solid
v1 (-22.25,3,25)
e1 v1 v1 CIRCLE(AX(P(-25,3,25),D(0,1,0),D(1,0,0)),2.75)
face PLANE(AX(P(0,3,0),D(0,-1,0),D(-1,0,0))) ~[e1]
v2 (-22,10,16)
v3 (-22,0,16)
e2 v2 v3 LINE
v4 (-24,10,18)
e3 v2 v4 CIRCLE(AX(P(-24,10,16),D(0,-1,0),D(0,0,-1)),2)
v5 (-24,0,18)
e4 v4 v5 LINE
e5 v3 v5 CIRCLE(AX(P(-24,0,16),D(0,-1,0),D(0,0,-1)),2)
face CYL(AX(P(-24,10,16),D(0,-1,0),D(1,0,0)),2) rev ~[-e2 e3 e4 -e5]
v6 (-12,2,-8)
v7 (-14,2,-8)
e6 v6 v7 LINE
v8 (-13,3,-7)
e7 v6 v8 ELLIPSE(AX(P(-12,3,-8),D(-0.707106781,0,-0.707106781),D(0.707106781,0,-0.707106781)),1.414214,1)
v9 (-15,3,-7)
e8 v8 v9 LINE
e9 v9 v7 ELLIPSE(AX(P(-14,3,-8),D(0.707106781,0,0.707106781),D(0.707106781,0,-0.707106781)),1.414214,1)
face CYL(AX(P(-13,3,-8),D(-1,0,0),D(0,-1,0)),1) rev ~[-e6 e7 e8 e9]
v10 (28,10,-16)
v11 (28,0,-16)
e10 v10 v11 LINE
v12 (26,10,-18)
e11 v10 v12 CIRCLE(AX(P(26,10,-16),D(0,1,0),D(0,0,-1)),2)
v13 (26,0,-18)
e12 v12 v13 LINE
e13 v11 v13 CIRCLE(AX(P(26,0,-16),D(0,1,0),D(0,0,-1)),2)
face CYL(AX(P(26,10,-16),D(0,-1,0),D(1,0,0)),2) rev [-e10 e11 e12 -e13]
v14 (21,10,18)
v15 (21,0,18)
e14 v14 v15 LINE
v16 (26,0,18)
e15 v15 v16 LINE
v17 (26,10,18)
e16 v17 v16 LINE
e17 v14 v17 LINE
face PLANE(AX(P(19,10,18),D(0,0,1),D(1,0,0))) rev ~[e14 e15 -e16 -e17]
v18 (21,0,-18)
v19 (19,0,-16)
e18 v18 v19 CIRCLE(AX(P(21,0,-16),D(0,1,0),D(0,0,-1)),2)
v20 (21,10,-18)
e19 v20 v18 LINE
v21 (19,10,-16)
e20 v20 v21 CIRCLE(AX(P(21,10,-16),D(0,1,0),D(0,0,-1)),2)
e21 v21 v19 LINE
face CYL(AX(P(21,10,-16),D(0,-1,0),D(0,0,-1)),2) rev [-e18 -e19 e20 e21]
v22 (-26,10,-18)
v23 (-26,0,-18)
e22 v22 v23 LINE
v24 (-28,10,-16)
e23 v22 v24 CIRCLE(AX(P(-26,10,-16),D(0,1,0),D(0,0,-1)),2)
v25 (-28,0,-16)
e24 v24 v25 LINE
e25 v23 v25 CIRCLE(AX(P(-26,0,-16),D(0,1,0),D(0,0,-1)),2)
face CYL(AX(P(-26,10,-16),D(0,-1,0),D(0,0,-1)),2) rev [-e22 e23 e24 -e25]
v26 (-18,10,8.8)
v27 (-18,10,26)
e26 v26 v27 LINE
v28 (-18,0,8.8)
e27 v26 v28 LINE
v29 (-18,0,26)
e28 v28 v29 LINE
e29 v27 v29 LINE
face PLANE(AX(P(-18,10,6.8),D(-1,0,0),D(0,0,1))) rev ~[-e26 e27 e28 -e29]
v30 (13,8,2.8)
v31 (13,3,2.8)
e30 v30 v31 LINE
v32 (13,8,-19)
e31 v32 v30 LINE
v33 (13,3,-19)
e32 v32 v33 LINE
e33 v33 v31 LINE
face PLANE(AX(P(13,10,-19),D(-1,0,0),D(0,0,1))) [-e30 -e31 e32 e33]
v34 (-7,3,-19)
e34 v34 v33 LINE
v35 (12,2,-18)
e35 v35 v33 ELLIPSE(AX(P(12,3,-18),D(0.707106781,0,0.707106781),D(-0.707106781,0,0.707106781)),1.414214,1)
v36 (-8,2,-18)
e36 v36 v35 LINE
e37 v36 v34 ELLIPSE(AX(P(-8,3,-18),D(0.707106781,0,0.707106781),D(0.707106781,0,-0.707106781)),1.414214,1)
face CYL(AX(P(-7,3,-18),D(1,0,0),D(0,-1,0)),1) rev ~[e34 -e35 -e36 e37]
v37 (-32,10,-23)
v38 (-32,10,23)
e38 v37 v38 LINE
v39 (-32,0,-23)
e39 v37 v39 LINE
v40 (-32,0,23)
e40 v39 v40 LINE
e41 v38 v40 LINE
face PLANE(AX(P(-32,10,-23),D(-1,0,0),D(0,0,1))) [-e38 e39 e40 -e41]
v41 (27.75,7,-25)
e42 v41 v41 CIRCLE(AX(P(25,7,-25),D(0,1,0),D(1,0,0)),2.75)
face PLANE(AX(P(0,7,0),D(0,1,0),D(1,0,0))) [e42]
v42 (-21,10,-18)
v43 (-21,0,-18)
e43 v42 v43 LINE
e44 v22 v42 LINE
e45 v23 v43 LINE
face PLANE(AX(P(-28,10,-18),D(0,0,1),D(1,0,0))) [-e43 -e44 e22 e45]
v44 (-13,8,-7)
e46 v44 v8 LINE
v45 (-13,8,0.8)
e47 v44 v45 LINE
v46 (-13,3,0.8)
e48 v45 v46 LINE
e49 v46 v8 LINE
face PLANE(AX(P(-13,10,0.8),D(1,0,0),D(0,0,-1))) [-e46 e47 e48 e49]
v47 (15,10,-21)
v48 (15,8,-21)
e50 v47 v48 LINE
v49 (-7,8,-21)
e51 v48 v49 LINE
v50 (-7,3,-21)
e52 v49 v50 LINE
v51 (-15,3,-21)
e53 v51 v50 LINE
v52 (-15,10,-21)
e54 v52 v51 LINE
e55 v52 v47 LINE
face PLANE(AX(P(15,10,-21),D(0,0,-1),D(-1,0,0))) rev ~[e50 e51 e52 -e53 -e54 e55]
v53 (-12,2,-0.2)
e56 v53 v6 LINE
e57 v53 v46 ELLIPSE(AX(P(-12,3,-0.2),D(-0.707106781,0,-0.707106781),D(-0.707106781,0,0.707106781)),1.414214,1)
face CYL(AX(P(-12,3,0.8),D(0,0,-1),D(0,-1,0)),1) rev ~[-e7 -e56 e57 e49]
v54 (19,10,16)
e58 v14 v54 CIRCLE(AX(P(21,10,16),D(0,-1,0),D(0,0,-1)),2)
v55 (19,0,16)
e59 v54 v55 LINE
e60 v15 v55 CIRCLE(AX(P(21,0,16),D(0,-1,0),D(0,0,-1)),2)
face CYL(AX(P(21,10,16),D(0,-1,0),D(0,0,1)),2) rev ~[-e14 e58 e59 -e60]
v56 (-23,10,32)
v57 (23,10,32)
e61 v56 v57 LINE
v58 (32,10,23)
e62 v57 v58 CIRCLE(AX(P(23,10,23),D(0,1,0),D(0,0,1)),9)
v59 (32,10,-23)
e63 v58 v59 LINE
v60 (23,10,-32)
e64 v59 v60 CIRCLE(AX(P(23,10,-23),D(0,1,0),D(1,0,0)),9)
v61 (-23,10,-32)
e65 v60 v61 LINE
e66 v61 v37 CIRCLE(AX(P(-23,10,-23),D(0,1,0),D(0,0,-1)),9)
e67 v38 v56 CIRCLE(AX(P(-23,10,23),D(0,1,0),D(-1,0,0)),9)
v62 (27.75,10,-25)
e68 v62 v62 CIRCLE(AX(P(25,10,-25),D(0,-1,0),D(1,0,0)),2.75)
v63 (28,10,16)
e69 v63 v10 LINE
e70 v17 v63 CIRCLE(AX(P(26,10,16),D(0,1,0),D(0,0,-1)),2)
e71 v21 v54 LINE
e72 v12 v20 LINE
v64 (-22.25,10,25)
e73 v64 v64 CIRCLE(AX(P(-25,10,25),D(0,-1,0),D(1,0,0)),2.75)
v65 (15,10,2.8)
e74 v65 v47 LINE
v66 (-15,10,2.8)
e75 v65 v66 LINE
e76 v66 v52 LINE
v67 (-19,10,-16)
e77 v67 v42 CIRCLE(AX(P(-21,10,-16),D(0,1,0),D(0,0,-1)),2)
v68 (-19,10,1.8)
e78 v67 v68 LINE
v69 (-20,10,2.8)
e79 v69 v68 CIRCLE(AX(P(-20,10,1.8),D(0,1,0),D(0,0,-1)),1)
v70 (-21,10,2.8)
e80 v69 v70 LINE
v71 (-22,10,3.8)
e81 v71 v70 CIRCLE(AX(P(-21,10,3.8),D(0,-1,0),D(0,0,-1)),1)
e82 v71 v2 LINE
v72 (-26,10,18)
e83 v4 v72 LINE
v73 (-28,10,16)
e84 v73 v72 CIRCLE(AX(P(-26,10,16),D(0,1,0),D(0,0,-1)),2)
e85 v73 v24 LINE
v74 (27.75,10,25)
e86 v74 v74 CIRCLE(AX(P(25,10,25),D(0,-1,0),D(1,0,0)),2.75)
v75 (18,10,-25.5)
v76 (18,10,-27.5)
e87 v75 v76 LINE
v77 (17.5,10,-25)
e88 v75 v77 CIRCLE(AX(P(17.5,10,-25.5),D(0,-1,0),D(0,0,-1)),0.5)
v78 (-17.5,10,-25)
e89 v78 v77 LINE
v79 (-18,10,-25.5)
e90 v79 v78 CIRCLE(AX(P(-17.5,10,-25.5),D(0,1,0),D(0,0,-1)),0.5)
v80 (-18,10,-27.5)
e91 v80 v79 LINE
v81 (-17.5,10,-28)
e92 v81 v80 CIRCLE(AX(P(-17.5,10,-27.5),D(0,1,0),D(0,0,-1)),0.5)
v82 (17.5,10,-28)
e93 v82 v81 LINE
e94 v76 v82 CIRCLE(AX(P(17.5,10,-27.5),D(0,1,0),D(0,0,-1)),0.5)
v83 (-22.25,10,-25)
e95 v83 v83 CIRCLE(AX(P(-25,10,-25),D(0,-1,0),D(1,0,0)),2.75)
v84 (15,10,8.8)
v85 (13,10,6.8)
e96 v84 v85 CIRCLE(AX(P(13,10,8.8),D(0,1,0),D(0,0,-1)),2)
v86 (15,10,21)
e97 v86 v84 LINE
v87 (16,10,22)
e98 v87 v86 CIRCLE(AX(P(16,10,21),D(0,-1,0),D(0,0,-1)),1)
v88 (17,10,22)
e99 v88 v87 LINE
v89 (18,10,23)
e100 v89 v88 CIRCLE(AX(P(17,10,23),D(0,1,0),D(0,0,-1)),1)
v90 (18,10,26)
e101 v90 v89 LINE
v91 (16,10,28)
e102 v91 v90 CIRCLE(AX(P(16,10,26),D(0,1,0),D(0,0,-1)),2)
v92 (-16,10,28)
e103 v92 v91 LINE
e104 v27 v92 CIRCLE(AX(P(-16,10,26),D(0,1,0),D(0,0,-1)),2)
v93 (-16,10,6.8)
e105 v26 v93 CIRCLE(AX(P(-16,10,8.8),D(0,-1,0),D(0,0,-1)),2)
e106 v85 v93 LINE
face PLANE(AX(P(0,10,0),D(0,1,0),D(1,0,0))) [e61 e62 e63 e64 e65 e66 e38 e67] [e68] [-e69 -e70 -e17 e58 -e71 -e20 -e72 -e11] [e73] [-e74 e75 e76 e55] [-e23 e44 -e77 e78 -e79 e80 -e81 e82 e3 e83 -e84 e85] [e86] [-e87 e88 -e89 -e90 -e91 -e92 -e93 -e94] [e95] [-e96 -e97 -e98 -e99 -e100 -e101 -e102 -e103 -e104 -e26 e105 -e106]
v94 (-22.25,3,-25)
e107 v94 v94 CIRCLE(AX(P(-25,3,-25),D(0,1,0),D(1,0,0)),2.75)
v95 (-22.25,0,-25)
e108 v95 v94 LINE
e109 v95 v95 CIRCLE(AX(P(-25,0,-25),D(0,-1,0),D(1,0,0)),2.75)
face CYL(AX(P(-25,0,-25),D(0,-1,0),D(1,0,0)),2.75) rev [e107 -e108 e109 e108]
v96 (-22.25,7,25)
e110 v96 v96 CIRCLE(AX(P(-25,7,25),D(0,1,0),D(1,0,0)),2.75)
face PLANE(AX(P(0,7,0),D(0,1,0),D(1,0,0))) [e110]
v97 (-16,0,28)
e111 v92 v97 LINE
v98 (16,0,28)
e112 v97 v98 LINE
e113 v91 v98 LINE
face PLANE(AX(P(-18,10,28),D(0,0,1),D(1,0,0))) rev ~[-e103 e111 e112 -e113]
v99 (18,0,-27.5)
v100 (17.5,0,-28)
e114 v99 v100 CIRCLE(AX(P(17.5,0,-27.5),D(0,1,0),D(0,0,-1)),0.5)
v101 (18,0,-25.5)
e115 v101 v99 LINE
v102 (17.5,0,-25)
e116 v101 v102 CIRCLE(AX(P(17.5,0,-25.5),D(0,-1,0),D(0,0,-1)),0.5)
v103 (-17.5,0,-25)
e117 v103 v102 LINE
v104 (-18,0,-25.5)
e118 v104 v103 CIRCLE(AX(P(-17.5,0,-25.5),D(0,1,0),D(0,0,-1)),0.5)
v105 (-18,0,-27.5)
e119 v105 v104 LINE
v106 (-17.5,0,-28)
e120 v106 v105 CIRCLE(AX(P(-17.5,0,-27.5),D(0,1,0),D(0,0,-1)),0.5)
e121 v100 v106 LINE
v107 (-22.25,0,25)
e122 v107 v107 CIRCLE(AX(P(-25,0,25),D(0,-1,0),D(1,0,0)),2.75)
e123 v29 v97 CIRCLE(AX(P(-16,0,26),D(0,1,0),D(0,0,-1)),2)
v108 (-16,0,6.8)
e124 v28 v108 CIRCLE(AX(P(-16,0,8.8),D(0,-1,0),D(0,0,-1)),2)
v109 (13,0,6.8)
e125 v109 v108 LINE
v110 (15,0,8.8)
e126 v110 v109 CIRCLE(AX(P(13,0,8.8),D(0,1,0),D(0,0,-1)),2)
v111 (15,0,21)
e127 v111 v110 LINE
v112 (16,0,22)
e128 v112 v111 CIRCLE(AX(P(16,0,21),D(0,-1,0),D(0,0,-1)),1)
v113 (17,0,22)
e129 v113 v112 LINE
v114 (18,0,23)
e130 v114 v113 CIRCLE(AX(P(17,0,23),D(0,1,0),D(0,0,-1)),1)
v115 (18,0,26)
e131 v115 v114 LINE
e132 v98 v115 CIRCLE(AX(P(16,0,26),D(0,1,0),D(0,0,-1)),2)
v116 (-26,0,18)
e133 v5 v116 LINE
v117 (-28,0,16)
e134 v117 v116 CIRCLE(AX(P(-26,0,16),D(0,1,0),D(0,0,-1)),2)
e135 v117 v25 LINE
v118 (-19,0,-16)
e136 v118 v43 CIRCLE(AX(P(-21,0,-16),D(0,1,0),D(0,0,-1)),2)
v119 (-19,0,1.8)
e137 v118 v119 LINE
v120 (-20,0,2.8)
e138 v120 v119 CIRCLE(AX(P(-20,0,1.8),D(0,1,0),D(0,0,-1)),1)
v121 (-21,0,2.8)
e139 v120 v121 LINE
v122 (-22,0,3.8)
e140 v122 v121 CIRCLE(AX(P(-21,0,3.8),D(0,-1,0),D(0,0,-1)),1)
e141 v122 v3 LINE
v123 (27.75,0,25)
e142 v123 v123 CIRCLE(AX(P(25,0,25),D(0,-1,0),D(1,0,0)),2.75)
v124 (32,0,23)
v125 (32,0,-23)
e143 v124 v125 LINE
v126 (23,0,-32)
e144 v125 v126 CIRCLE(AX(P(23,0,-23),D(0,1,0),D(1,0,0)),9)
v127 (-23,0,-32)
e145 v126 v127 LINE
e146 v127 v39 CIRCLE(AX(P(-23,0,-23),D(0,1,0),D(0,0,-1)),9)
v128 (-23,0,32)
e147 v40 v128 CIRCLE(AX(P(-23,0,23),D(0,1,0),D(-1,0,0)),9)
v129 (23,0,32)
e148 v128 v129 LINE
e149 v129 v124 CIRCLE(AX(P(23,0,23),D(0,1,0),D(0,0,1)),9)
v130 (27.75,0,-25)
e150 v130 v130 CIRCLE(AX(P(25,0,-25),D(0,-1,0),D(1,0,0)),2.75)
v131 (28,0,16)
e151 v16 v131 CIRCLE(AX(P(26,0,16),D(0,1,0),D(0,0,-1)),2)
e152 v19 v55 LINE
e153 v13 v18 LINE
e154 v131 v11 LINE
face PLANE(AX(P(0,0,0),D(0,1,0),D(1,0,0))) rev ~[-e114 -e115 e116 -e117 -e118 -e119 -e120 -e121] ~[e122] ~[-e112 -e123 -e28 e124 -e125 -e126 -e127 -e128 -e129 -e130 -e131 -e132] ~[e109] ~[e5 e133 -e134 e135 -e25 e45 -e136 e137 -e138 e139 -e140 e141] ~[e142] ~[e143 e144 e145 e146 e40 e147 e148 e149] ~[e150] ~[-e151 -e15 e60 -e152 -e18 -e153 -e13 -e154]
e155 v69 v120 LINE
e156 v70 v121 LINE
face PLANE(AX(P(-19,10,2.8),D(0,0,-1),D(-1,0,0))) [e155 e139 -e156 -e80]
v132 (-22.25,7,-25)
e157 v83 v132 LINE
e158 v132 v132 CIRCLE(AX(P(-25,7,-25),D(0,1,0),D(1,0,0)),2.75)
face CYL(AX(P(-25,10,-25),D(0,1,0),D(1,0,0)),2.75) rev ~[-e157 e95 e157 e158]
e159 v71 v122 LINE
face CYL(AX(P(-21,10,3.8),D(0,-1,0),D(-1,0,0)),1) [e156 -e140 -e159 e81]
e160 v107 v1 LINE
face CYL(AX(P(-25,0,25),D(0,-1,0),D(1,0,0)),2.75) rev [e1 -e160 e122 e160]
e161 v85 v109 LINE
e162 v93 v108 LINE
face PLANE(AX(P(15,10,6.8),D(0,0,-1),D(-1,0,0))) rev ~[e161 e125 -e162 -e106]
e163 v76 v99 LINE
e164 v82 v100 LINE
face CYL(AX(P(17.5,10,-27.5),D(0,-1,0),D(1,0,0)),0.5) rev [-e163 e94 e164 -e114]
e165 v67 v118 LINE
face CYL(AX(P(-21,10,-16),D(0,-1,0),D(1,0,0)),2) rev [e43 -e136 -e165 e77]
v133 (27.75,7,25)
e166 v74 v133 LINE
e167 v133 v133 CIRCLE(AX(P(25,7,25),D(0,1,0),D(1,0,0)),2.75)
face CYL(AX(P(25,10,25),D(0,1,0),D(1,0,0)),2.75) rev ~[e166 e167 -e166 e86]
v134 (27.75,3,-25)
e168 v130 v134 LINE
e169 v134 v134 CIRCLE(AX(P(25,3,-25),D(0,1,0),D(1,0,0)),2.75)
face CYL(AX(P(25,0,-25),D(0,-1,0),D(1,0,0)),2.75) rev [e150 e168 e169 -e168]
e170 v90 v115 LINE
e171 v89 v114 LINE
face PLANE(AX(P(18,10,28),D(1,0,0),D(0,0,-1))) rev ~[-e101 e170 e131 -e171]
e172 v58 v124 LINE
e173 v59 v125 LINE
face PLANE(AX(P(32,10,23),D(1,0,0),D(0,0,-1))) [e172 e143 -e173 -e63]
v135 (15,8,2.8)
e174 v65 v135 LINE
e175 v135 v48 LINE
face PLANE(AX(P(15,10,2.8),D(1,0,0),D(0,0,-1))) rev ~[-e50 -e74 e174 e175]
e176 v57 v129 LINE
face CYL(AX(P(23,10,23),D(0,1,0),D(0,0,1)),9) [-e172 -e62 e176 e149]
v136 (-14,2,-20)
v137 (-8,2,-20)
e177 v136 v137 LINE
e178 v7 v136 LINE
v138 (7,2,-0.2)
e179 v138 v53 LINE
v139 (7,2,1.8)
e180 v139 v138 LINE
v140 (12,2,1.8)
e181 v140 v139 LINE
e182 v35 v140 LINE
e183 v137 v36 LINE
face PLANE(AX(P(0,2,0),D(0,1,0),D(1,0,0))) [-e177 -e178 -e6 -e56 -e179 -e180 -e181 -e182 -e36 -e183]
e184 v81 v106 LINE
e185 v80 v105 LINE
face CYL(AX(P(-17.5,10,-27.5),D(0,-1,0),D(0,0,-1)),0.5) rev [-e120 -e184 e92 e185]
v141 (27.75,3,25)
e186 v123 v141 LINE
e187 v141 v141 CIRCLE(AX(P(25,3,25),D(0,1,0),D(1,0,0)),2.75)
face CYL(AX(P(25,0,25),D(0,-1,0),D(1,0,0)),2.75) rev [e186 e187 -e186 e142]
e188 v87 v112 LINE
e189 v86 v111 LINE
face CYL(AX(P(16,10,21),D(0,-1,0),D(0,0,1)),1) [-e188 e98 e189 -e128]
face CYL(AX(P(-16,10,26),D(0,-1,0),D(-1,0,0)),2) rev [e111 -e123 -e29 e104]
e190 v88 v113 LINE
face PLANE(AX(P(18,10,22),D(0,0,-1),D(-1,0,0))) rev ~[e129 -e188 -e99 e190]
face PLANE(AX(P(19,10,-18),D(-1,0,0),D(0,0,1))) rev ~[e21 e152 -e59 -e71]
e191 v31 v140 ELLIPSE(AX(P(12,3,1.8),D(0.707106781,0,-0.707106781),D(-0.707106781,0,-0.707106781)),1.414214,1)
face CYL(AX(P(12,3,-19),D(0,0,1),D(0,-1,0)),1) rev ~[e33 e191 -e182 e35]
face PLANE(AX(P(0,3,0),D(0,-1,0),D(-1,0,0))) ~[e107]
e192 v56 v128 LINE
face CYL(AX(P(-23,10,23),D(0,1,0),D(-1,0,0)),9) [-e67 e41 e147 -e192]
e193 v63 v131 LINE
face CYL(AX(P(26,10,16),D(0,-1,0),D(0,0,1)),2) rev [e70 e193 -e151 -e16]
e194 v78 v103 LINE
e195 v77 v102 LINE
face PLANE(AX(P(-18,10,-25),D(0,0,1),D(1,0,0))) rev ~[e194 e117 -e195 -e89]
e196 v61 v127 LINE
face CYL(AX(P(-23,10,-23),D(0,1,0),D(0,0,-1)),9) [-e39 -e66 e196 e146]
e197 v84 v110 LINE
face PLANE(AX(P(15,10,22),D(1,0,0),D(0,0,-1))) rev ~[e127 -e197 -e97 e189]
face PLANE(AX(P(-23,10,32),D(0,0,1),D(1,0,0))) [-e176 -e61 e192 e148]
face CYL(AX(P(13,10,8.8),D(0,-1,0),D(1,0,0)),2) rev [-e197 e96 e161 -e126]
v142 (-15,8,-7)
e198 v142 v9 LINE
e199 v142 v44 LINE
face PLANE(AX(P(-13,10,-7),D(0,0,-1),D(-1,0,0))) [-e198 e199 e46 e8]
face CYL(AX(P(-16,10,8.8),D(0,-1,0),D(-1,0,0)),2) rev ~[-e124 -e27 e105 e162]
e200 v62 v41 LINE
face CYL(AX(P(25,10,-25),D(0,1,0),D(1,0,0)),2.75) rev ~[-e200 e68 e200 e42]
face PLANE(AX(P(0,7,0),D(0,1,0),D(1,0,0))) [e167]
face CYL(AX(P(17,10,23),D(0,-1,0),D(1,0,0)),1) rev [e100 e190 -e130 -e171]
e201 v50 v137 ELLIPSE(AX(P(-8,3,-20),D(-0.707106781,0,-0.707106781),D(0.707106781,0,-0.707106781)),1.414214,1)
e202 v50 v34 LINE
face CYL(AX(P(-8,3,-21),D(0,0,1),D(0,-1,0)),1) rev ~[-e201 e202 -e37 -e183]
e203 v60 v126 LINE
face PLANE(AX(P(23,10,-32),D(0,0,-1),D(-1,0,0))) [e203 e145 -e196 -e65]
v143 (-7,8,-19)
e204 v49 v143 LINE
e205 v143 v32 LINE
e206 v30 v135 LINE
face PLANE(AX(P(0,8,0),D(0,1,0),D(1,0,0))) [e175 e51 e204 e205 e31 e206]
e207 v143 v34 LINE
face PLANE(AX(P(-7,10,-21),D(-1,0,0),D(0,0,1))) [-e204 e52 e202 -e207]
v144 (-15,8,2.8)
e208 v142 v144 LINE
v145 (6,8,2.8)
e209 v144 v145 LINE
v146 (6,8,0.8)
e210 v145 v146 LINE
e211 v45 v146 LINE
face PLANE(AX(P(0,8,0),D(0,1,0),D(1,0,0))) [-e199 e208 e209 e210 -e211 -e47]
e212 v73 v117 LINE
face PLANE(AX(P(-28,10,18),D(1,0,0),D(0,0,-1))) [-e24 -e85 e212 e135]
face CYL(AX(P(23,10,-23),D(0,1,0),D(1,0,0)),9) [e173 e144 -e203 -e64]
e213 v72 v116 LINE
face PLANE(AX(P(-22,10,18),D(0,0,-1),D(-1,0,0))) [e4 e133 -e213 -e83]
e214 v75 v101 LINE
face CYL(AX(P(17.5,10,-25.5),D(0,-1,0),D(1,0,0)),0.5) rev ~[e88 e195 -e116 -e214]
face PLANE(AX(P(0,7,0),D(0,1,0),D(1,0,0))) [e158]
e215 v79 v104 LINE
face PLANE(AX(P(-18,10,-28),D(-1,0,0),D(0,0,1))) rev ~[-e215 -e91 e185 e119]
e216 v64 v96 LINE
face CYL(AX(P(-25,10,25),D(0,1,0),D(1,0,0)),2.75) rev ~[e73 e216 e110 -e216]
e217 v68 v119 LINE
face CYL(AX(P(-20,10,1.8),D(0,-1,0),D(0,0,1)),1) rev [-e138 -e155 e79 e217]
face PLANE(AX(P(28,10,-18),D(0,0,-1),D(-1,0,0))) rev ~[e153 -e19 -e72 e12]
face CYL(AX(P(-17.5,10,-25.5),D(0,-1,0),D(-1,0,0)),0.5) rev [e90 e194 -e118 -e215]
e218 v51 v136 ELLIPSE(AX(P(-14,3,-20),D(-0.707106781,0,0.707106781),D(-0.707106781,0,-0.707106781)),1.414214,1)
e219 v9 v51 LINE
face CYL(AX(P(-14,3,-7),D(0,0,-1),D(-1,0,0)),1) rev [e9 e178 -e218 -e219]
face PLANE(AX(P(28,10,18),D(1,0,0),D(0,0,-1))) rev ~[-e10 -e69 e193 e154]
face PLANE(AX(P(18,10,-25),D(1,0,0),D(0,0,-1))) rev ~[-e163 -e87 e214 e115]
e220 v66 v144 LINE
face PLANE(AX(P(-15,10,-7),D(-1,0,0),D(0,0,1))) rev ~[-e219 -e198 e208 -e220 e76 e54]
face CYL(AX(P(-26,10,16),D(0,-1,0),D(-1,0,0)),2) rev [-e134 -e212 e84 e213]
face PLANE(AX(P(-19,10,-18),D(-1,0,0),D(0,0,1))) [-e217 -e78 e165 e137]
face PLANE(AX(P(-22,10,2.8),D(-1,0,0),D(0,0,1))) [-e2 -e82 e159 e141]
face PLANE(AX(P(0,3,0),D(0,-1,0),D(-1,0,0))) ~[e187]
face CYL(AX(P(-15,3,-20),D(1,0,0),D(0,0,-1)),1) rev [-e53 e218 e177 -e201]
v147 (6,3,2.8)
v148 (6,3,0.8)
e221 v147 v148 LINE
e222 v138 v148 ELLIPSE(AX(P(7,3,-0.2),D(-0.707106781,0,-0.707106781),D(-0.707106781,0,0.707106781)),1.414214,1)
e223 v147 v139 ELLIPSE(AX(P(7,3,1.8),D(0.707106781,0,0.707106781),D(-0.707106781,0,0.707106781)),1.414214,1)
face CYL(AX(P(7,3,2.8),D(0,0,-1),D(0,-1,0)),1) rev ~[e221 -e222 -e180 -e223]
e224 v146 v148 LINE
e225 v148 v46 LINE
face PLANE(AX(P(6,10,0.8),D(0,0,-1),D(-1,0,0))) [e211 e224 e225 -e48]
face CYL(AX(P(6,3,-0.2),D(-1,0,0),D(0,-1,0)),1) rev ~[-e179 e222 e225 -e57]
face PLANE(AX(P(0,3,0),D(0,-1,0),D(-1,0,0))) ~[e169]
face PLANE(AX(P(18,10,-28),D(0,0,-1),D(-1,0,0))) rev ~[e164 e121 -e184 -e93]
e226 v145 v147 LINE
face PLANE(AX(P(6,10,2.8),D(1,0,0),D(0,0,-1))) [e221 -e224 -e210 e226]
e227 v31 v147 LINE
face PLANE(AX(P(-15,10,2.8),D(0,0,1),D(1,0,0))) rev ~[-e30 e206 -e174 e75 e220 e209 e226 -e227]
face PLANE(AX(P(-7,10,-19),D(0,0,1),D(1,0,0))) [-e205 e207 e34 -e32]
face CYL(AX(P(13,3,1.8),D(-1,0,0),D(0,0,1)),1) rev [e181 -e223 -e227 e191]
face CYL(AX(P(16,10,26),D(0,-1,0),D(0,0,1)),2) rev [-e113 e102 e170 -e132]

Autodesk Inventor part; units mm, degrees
ref_plane "YZ Plane" through (0, 0, 0) normal (1, 0, 0) x (0, 1, 0)
ref_plane "XZ Plane" through (0, 0, 0) normal (0, 1, 0) x (-1, 0, 0)
sketch "Sketch1" plane through (0, 0, 0) normal (0, 1, 0) x (-1, 0, 0)
  line L0 (30, 30) -> (-30, 30)
  line L1 (-30, 30) -> (-30, -30)
  line L2 (-30, -30) -> (30, -30)
  line L3 (30, -30) -> (30, 30)
  line L4 (30, 30) -> (-30, -30) construction
  line L5 (-30, 30) -> (30, -30) construction
  point P0 (0, 0)
  dimension "d0" = 60
  dimension "d1" = 60
extrude "Extrusion1" add sketch "Sketch1" along normal blind 10
fillet "Fillet1" radius 7 4 edges at (30, 5, 30) (30, 5, -30) (-30, 5, 30) (-30, 5, -30)
sketch "Sketch2" plane through (0, 10, 0) normal (0, 1, 0) x (1, 0, 0)
  line L0 (-30, 30) -> (30, 30)
  line L1 (30, 30) -> (30, -30)
  line L2 (30, -30) -> (-30, -30)
  line L3 (-30, -30) -> (-30, 30)
  line L4 (-30, 30) -> (30, -30) construction
  line L5 (30, 30) -> (-30, -30) construction
  line L6 (25, -25) -> (25, 25)
  line L7 (25, 25) -> (-25, 25)
  line L8 (-25, 25) -> (-25, -25)
  line L9 (-25, -25) -> (25, -25)
  circle A0 centre (25, -25) radius 2.75
  circle A1 centre (-25, -25) radius 2.75
  circle A2 centre (25, 25) radius 2.75
  circle A3 centre (-25, 25) radius 2.75
  point P0 (0, 0)
  dimension "d5" = 5
  dimension "d6" = 5.5
  dimension "d7" = 5.5
  dimension "d8" = 5.5
  dimension "d9" = 5.5
extrude "Extrusion2" cut sketch "Sketch2" against normal blind 3 contours L9 A0 L6 | L6 A0 L9 | A2 L7 L6 | L6 L7 A2 | A1 L8 L9 | L9 L8 A1 | A3 L8 L7 | L7 L8 A3
sketch "Sketch7" plane through (0, 10, 0) normal (0, 1, 0) x (1, 0, 0)
  line L0 (-23, 30) -> (23, 30)
  line L1 (30, 23) -> (30, -23)
  line L2 (23, -30) -> (-23, -30)
  line L3 (-30, -23) -> (-30, 23)
  line L4 (-30, 30) -> (30, -30) construction
  line L5 (30, 30) -> (-30, -30) construction
  arc A0 (-23, 30) -> (-30, 23) centre (-23, 23) ccw
  arc A1 (-30, -23) -> (-23, -30) centre (-23, -23) ccw
  arc A2 (23, -30) -> (30, -23) centre (23, -23) ccw
  arc A3 (30, 23) -> (23, 30) centre (23, 23) ccw
  line L6 (23, 32) -> (-23, 32)
  arc A4 (-23, 32) -> (-32, 23) centre (-23, 23) ccw
  line L7 (-32, 23) -> (-32, -23)
  arc A5 (-32, -23) -> (-23, -32) centre (-23, -23) ccw
  line L8 (-23, -32) -> (23, -32)
  arc A6 (23, -32) -> (32, -23) centre (23, -23) ccw
  line L9 (32, -23) -> (32, 23)
  arc A7 (32, 23) -> (23, 32) centre (23, 23) ccw
  point P0 (0, 0)
  dimension "d47" = 7
  dimension "d48" = 2
extrude "Extrusion6" add sketch "Sketch7" against normal blind 10
sketch "Sketch33" plane through (0, 10, 0) normal (0, 1, 0) x (1, 0, 0)
  line L0 (-25, 25) -> (25, 25)
  line L1 (25, 25) -> (25, -25)
  line L2 (25, -25) -> (-25, -25)
  line L3 (-25, -25) -> (-25, 25)
  line L4 (-25, 25) -> (25, -25) construction
  line L5 (25, 25) -> (-25, -25) construction
  line L6 (21, 21) -> (-21, 21)
  line L7 (-21, 21) -> (-21, -21)
  line L8 (-21, -21) -> (21, -21)
  line L9 (21, -21) -> (21, 21)
  line L10 (-15, 21) -> (-15, -2.8)
  line L11 (-15, -2.8) -> (15, -2.8)
  line L12 (15, -2.8) -> (15, 21)
  line L13 (-13, 7) -> (-13, -0.8)
  line L14 (-13, -0.8) -> (6, -0.8)
  line L15 (13, -0.8) -> (13, 19)
  line L16 (-7, 21) -> (-7, 19)
  line L17 (-7, 19) -> (13, 19)
  line L18 (13, -0.8) -> (13, -2.8)
  line L19 (6, -2.8) -> (6, -0.8)
  line L20 (-15, 7) -> (-13, 7)
  point P0 (0, 0)
  point P1 (-21, 15)
  dimension "d349" = 50
  dimension "d350" = 50
  dimension "d351" = 4
  dimension "d352" = 6
  dimension "d353" = 30
  dimension "d354" = 6
  dimension "d355" = 23.8
  dimension "d356" = 8
  dimension "d357" = 2
  dimension "d358" = 7
  dimension "d359" = 2
  dimension "d360" = 2
  dimension "d361" = 14
extrude "Extrusion31" cut sketch "Sketch33" against normal blind 2 contours L12 L11 L18 L15 L17 L16 L6 | L20 L13 L14 L19 L11 L10
sketch "Sketch34" plane through (0, 10, 0) normal (0, 1, 0) x (1, 0, 0)
  line L0 (13, -2.8) -> (6, -2.8)
  line L1 (6, -2.8) -> (6, -0.8)
  line L2 (6, -0.8) -> (-13, -0.8)
  line L3 (-13, -0.8) -> (-13, 7)
  line L4 (-13, 7) -> (-15, 7)
  line L5 (-15, 7) -> (-15, 21)
  line L6 (-15, 21) -> (-7, 21)
  line L7 (-7, 21) -> (-7, 19)
  line L8 (-7, 19) -> (13, 19)
  line L9 (13, 19) -> (13, -2.8)
  line L10 (13, -2.8) -> (13, 19) projected
  point P0 (0, 0)
extrude "Extrusion32" cut sketch "Sketch34" against normal blind 8
sketch "Sketch35" plane through (0, 10, 0) normal (0, 1, 0) x (1, 0, 0)
  line L0 (23, 32) -> (-23, 32) projected
  line L1 (-32, 23) -> (-32, -23) projected
  line L2 (32, -23) -> (32, 23) projected
  line L3 (-15, 21) -> (15, 21) projected
  line L4 (18, 28) -> (-18, 28)
  line L5 (-18, 28) -> (-18, 25)
  line L6 (-18, 25) -> (18, 25)
  line L7 (18, 25) -> (18, 28)
  line L8 (-23, -32) -> (23, -32) projected
  line L9 (15, 21) -> (15, -2.8) projected
  line L10 (28, -18) -> (28, 18)
  line L11 (28, 18) -> (19, 18)
  line L12 (19, 18) -> (19, -18)
  line L13 (19, -18) -> (28, -18)
  line L14 (15, -2.8) -> (-15, -2.8) projected
  line L15 (-18, -28) -> (18, -28)
  line L16 (18, -28) -> (18, -22)
  line L17 (18, -22) -> (15, -22)
  line L18 (15, -22) -> (15, -6.8)
  line L19 (15, -6.8) -> (-18, -6.8)
  line L20 (-18, -6.8) -> (-18, -28)
  line L21 (-15, -2.8) -> (-15, 21) projected
  line L22 (-22, -18) -> (-28, -18)
  line L23 (-28, -18) -> (-28, 18)
  line L24 (-28, 18) -> (-19, 18)
  line L25 (-19, 18) -> (-19, -2.8)
  line L26 (-19, -2.8) -> (-22, -2.8)
  line L27 (-22, -2.8) -> (-22, -18)
  point P0 (0, 0)
  dimension "d366" = 4
  dimension "d367" = 4
  dimension "d368" = 14
  dimension "d369" = 14
  dimension "d370" = 4
  dimension "d371" = 4
  dimension "d372" = 14
  dimension "d373" = 4
  dimension "d374" = 14
  dimension "d375" = 4
  dimension "d376" = 4
  dimension "d377" = 14
  dimension "d378" = 4
  dimension "d379" = 4
  dimension "d380" = 4
  dimension "d381" = 14
  dimension "d382" = 4
  dimension "d383" = 14
  dimension "d384" = 14
  dimension "d385" = 4
  dimension "d386" = 4
  dimension "d387" = 4
extrude "Extrusion33" cut sketch "Sketch35" against normal through all contours L7 L6 L5 L4 | L13 L12 L11 L10 | L20 L19 L18 L17 L16 L15 | L22 L23 L24 L25 L26 L27
fillet "Fillet10" radius 2 12 edges at (19, 5, 18) (-28, 5, 18) (-18, 5, 28) (15, 5, 6.8) (28, 5, -18) (28, 5, 18) (18, 5, 28) (-18, 5, 6.8) (19, 5, -18) (-28, 5, -18) (-19, 5, -18) (-22, 5, 18)
fillet "Fillet10" radius 1 14 edges at (15, 5, 22) (9.5, 2, 2.8) (13, 2, -8.1) (-3.5, 2, 0.8) (-13, 2, -3.1) (-15, 2, -14) (-22, 5, 2.8) (-19, 5, 2.8) (18, 5, 22) (3, 2, -19) (-11, 2, -21) (-14, 2, -7) (6, 2, 1.8) (-7, 2, -20)
fillet "Fillet10" radius 0.5 4 edges at (-18, 5, -25) (-18, 5, -28) (18, 5, -25) (18, 5, -28)
ref_plane "Work Plane9" through (0, 5, 0) normal (0, 1, 0) x (1, 0, 0)
mirror "Mirror9" about plane through (0, 5, 0) normal (0, 1, 0) of "Extrusion2"
properties part number "8 pinshort"
